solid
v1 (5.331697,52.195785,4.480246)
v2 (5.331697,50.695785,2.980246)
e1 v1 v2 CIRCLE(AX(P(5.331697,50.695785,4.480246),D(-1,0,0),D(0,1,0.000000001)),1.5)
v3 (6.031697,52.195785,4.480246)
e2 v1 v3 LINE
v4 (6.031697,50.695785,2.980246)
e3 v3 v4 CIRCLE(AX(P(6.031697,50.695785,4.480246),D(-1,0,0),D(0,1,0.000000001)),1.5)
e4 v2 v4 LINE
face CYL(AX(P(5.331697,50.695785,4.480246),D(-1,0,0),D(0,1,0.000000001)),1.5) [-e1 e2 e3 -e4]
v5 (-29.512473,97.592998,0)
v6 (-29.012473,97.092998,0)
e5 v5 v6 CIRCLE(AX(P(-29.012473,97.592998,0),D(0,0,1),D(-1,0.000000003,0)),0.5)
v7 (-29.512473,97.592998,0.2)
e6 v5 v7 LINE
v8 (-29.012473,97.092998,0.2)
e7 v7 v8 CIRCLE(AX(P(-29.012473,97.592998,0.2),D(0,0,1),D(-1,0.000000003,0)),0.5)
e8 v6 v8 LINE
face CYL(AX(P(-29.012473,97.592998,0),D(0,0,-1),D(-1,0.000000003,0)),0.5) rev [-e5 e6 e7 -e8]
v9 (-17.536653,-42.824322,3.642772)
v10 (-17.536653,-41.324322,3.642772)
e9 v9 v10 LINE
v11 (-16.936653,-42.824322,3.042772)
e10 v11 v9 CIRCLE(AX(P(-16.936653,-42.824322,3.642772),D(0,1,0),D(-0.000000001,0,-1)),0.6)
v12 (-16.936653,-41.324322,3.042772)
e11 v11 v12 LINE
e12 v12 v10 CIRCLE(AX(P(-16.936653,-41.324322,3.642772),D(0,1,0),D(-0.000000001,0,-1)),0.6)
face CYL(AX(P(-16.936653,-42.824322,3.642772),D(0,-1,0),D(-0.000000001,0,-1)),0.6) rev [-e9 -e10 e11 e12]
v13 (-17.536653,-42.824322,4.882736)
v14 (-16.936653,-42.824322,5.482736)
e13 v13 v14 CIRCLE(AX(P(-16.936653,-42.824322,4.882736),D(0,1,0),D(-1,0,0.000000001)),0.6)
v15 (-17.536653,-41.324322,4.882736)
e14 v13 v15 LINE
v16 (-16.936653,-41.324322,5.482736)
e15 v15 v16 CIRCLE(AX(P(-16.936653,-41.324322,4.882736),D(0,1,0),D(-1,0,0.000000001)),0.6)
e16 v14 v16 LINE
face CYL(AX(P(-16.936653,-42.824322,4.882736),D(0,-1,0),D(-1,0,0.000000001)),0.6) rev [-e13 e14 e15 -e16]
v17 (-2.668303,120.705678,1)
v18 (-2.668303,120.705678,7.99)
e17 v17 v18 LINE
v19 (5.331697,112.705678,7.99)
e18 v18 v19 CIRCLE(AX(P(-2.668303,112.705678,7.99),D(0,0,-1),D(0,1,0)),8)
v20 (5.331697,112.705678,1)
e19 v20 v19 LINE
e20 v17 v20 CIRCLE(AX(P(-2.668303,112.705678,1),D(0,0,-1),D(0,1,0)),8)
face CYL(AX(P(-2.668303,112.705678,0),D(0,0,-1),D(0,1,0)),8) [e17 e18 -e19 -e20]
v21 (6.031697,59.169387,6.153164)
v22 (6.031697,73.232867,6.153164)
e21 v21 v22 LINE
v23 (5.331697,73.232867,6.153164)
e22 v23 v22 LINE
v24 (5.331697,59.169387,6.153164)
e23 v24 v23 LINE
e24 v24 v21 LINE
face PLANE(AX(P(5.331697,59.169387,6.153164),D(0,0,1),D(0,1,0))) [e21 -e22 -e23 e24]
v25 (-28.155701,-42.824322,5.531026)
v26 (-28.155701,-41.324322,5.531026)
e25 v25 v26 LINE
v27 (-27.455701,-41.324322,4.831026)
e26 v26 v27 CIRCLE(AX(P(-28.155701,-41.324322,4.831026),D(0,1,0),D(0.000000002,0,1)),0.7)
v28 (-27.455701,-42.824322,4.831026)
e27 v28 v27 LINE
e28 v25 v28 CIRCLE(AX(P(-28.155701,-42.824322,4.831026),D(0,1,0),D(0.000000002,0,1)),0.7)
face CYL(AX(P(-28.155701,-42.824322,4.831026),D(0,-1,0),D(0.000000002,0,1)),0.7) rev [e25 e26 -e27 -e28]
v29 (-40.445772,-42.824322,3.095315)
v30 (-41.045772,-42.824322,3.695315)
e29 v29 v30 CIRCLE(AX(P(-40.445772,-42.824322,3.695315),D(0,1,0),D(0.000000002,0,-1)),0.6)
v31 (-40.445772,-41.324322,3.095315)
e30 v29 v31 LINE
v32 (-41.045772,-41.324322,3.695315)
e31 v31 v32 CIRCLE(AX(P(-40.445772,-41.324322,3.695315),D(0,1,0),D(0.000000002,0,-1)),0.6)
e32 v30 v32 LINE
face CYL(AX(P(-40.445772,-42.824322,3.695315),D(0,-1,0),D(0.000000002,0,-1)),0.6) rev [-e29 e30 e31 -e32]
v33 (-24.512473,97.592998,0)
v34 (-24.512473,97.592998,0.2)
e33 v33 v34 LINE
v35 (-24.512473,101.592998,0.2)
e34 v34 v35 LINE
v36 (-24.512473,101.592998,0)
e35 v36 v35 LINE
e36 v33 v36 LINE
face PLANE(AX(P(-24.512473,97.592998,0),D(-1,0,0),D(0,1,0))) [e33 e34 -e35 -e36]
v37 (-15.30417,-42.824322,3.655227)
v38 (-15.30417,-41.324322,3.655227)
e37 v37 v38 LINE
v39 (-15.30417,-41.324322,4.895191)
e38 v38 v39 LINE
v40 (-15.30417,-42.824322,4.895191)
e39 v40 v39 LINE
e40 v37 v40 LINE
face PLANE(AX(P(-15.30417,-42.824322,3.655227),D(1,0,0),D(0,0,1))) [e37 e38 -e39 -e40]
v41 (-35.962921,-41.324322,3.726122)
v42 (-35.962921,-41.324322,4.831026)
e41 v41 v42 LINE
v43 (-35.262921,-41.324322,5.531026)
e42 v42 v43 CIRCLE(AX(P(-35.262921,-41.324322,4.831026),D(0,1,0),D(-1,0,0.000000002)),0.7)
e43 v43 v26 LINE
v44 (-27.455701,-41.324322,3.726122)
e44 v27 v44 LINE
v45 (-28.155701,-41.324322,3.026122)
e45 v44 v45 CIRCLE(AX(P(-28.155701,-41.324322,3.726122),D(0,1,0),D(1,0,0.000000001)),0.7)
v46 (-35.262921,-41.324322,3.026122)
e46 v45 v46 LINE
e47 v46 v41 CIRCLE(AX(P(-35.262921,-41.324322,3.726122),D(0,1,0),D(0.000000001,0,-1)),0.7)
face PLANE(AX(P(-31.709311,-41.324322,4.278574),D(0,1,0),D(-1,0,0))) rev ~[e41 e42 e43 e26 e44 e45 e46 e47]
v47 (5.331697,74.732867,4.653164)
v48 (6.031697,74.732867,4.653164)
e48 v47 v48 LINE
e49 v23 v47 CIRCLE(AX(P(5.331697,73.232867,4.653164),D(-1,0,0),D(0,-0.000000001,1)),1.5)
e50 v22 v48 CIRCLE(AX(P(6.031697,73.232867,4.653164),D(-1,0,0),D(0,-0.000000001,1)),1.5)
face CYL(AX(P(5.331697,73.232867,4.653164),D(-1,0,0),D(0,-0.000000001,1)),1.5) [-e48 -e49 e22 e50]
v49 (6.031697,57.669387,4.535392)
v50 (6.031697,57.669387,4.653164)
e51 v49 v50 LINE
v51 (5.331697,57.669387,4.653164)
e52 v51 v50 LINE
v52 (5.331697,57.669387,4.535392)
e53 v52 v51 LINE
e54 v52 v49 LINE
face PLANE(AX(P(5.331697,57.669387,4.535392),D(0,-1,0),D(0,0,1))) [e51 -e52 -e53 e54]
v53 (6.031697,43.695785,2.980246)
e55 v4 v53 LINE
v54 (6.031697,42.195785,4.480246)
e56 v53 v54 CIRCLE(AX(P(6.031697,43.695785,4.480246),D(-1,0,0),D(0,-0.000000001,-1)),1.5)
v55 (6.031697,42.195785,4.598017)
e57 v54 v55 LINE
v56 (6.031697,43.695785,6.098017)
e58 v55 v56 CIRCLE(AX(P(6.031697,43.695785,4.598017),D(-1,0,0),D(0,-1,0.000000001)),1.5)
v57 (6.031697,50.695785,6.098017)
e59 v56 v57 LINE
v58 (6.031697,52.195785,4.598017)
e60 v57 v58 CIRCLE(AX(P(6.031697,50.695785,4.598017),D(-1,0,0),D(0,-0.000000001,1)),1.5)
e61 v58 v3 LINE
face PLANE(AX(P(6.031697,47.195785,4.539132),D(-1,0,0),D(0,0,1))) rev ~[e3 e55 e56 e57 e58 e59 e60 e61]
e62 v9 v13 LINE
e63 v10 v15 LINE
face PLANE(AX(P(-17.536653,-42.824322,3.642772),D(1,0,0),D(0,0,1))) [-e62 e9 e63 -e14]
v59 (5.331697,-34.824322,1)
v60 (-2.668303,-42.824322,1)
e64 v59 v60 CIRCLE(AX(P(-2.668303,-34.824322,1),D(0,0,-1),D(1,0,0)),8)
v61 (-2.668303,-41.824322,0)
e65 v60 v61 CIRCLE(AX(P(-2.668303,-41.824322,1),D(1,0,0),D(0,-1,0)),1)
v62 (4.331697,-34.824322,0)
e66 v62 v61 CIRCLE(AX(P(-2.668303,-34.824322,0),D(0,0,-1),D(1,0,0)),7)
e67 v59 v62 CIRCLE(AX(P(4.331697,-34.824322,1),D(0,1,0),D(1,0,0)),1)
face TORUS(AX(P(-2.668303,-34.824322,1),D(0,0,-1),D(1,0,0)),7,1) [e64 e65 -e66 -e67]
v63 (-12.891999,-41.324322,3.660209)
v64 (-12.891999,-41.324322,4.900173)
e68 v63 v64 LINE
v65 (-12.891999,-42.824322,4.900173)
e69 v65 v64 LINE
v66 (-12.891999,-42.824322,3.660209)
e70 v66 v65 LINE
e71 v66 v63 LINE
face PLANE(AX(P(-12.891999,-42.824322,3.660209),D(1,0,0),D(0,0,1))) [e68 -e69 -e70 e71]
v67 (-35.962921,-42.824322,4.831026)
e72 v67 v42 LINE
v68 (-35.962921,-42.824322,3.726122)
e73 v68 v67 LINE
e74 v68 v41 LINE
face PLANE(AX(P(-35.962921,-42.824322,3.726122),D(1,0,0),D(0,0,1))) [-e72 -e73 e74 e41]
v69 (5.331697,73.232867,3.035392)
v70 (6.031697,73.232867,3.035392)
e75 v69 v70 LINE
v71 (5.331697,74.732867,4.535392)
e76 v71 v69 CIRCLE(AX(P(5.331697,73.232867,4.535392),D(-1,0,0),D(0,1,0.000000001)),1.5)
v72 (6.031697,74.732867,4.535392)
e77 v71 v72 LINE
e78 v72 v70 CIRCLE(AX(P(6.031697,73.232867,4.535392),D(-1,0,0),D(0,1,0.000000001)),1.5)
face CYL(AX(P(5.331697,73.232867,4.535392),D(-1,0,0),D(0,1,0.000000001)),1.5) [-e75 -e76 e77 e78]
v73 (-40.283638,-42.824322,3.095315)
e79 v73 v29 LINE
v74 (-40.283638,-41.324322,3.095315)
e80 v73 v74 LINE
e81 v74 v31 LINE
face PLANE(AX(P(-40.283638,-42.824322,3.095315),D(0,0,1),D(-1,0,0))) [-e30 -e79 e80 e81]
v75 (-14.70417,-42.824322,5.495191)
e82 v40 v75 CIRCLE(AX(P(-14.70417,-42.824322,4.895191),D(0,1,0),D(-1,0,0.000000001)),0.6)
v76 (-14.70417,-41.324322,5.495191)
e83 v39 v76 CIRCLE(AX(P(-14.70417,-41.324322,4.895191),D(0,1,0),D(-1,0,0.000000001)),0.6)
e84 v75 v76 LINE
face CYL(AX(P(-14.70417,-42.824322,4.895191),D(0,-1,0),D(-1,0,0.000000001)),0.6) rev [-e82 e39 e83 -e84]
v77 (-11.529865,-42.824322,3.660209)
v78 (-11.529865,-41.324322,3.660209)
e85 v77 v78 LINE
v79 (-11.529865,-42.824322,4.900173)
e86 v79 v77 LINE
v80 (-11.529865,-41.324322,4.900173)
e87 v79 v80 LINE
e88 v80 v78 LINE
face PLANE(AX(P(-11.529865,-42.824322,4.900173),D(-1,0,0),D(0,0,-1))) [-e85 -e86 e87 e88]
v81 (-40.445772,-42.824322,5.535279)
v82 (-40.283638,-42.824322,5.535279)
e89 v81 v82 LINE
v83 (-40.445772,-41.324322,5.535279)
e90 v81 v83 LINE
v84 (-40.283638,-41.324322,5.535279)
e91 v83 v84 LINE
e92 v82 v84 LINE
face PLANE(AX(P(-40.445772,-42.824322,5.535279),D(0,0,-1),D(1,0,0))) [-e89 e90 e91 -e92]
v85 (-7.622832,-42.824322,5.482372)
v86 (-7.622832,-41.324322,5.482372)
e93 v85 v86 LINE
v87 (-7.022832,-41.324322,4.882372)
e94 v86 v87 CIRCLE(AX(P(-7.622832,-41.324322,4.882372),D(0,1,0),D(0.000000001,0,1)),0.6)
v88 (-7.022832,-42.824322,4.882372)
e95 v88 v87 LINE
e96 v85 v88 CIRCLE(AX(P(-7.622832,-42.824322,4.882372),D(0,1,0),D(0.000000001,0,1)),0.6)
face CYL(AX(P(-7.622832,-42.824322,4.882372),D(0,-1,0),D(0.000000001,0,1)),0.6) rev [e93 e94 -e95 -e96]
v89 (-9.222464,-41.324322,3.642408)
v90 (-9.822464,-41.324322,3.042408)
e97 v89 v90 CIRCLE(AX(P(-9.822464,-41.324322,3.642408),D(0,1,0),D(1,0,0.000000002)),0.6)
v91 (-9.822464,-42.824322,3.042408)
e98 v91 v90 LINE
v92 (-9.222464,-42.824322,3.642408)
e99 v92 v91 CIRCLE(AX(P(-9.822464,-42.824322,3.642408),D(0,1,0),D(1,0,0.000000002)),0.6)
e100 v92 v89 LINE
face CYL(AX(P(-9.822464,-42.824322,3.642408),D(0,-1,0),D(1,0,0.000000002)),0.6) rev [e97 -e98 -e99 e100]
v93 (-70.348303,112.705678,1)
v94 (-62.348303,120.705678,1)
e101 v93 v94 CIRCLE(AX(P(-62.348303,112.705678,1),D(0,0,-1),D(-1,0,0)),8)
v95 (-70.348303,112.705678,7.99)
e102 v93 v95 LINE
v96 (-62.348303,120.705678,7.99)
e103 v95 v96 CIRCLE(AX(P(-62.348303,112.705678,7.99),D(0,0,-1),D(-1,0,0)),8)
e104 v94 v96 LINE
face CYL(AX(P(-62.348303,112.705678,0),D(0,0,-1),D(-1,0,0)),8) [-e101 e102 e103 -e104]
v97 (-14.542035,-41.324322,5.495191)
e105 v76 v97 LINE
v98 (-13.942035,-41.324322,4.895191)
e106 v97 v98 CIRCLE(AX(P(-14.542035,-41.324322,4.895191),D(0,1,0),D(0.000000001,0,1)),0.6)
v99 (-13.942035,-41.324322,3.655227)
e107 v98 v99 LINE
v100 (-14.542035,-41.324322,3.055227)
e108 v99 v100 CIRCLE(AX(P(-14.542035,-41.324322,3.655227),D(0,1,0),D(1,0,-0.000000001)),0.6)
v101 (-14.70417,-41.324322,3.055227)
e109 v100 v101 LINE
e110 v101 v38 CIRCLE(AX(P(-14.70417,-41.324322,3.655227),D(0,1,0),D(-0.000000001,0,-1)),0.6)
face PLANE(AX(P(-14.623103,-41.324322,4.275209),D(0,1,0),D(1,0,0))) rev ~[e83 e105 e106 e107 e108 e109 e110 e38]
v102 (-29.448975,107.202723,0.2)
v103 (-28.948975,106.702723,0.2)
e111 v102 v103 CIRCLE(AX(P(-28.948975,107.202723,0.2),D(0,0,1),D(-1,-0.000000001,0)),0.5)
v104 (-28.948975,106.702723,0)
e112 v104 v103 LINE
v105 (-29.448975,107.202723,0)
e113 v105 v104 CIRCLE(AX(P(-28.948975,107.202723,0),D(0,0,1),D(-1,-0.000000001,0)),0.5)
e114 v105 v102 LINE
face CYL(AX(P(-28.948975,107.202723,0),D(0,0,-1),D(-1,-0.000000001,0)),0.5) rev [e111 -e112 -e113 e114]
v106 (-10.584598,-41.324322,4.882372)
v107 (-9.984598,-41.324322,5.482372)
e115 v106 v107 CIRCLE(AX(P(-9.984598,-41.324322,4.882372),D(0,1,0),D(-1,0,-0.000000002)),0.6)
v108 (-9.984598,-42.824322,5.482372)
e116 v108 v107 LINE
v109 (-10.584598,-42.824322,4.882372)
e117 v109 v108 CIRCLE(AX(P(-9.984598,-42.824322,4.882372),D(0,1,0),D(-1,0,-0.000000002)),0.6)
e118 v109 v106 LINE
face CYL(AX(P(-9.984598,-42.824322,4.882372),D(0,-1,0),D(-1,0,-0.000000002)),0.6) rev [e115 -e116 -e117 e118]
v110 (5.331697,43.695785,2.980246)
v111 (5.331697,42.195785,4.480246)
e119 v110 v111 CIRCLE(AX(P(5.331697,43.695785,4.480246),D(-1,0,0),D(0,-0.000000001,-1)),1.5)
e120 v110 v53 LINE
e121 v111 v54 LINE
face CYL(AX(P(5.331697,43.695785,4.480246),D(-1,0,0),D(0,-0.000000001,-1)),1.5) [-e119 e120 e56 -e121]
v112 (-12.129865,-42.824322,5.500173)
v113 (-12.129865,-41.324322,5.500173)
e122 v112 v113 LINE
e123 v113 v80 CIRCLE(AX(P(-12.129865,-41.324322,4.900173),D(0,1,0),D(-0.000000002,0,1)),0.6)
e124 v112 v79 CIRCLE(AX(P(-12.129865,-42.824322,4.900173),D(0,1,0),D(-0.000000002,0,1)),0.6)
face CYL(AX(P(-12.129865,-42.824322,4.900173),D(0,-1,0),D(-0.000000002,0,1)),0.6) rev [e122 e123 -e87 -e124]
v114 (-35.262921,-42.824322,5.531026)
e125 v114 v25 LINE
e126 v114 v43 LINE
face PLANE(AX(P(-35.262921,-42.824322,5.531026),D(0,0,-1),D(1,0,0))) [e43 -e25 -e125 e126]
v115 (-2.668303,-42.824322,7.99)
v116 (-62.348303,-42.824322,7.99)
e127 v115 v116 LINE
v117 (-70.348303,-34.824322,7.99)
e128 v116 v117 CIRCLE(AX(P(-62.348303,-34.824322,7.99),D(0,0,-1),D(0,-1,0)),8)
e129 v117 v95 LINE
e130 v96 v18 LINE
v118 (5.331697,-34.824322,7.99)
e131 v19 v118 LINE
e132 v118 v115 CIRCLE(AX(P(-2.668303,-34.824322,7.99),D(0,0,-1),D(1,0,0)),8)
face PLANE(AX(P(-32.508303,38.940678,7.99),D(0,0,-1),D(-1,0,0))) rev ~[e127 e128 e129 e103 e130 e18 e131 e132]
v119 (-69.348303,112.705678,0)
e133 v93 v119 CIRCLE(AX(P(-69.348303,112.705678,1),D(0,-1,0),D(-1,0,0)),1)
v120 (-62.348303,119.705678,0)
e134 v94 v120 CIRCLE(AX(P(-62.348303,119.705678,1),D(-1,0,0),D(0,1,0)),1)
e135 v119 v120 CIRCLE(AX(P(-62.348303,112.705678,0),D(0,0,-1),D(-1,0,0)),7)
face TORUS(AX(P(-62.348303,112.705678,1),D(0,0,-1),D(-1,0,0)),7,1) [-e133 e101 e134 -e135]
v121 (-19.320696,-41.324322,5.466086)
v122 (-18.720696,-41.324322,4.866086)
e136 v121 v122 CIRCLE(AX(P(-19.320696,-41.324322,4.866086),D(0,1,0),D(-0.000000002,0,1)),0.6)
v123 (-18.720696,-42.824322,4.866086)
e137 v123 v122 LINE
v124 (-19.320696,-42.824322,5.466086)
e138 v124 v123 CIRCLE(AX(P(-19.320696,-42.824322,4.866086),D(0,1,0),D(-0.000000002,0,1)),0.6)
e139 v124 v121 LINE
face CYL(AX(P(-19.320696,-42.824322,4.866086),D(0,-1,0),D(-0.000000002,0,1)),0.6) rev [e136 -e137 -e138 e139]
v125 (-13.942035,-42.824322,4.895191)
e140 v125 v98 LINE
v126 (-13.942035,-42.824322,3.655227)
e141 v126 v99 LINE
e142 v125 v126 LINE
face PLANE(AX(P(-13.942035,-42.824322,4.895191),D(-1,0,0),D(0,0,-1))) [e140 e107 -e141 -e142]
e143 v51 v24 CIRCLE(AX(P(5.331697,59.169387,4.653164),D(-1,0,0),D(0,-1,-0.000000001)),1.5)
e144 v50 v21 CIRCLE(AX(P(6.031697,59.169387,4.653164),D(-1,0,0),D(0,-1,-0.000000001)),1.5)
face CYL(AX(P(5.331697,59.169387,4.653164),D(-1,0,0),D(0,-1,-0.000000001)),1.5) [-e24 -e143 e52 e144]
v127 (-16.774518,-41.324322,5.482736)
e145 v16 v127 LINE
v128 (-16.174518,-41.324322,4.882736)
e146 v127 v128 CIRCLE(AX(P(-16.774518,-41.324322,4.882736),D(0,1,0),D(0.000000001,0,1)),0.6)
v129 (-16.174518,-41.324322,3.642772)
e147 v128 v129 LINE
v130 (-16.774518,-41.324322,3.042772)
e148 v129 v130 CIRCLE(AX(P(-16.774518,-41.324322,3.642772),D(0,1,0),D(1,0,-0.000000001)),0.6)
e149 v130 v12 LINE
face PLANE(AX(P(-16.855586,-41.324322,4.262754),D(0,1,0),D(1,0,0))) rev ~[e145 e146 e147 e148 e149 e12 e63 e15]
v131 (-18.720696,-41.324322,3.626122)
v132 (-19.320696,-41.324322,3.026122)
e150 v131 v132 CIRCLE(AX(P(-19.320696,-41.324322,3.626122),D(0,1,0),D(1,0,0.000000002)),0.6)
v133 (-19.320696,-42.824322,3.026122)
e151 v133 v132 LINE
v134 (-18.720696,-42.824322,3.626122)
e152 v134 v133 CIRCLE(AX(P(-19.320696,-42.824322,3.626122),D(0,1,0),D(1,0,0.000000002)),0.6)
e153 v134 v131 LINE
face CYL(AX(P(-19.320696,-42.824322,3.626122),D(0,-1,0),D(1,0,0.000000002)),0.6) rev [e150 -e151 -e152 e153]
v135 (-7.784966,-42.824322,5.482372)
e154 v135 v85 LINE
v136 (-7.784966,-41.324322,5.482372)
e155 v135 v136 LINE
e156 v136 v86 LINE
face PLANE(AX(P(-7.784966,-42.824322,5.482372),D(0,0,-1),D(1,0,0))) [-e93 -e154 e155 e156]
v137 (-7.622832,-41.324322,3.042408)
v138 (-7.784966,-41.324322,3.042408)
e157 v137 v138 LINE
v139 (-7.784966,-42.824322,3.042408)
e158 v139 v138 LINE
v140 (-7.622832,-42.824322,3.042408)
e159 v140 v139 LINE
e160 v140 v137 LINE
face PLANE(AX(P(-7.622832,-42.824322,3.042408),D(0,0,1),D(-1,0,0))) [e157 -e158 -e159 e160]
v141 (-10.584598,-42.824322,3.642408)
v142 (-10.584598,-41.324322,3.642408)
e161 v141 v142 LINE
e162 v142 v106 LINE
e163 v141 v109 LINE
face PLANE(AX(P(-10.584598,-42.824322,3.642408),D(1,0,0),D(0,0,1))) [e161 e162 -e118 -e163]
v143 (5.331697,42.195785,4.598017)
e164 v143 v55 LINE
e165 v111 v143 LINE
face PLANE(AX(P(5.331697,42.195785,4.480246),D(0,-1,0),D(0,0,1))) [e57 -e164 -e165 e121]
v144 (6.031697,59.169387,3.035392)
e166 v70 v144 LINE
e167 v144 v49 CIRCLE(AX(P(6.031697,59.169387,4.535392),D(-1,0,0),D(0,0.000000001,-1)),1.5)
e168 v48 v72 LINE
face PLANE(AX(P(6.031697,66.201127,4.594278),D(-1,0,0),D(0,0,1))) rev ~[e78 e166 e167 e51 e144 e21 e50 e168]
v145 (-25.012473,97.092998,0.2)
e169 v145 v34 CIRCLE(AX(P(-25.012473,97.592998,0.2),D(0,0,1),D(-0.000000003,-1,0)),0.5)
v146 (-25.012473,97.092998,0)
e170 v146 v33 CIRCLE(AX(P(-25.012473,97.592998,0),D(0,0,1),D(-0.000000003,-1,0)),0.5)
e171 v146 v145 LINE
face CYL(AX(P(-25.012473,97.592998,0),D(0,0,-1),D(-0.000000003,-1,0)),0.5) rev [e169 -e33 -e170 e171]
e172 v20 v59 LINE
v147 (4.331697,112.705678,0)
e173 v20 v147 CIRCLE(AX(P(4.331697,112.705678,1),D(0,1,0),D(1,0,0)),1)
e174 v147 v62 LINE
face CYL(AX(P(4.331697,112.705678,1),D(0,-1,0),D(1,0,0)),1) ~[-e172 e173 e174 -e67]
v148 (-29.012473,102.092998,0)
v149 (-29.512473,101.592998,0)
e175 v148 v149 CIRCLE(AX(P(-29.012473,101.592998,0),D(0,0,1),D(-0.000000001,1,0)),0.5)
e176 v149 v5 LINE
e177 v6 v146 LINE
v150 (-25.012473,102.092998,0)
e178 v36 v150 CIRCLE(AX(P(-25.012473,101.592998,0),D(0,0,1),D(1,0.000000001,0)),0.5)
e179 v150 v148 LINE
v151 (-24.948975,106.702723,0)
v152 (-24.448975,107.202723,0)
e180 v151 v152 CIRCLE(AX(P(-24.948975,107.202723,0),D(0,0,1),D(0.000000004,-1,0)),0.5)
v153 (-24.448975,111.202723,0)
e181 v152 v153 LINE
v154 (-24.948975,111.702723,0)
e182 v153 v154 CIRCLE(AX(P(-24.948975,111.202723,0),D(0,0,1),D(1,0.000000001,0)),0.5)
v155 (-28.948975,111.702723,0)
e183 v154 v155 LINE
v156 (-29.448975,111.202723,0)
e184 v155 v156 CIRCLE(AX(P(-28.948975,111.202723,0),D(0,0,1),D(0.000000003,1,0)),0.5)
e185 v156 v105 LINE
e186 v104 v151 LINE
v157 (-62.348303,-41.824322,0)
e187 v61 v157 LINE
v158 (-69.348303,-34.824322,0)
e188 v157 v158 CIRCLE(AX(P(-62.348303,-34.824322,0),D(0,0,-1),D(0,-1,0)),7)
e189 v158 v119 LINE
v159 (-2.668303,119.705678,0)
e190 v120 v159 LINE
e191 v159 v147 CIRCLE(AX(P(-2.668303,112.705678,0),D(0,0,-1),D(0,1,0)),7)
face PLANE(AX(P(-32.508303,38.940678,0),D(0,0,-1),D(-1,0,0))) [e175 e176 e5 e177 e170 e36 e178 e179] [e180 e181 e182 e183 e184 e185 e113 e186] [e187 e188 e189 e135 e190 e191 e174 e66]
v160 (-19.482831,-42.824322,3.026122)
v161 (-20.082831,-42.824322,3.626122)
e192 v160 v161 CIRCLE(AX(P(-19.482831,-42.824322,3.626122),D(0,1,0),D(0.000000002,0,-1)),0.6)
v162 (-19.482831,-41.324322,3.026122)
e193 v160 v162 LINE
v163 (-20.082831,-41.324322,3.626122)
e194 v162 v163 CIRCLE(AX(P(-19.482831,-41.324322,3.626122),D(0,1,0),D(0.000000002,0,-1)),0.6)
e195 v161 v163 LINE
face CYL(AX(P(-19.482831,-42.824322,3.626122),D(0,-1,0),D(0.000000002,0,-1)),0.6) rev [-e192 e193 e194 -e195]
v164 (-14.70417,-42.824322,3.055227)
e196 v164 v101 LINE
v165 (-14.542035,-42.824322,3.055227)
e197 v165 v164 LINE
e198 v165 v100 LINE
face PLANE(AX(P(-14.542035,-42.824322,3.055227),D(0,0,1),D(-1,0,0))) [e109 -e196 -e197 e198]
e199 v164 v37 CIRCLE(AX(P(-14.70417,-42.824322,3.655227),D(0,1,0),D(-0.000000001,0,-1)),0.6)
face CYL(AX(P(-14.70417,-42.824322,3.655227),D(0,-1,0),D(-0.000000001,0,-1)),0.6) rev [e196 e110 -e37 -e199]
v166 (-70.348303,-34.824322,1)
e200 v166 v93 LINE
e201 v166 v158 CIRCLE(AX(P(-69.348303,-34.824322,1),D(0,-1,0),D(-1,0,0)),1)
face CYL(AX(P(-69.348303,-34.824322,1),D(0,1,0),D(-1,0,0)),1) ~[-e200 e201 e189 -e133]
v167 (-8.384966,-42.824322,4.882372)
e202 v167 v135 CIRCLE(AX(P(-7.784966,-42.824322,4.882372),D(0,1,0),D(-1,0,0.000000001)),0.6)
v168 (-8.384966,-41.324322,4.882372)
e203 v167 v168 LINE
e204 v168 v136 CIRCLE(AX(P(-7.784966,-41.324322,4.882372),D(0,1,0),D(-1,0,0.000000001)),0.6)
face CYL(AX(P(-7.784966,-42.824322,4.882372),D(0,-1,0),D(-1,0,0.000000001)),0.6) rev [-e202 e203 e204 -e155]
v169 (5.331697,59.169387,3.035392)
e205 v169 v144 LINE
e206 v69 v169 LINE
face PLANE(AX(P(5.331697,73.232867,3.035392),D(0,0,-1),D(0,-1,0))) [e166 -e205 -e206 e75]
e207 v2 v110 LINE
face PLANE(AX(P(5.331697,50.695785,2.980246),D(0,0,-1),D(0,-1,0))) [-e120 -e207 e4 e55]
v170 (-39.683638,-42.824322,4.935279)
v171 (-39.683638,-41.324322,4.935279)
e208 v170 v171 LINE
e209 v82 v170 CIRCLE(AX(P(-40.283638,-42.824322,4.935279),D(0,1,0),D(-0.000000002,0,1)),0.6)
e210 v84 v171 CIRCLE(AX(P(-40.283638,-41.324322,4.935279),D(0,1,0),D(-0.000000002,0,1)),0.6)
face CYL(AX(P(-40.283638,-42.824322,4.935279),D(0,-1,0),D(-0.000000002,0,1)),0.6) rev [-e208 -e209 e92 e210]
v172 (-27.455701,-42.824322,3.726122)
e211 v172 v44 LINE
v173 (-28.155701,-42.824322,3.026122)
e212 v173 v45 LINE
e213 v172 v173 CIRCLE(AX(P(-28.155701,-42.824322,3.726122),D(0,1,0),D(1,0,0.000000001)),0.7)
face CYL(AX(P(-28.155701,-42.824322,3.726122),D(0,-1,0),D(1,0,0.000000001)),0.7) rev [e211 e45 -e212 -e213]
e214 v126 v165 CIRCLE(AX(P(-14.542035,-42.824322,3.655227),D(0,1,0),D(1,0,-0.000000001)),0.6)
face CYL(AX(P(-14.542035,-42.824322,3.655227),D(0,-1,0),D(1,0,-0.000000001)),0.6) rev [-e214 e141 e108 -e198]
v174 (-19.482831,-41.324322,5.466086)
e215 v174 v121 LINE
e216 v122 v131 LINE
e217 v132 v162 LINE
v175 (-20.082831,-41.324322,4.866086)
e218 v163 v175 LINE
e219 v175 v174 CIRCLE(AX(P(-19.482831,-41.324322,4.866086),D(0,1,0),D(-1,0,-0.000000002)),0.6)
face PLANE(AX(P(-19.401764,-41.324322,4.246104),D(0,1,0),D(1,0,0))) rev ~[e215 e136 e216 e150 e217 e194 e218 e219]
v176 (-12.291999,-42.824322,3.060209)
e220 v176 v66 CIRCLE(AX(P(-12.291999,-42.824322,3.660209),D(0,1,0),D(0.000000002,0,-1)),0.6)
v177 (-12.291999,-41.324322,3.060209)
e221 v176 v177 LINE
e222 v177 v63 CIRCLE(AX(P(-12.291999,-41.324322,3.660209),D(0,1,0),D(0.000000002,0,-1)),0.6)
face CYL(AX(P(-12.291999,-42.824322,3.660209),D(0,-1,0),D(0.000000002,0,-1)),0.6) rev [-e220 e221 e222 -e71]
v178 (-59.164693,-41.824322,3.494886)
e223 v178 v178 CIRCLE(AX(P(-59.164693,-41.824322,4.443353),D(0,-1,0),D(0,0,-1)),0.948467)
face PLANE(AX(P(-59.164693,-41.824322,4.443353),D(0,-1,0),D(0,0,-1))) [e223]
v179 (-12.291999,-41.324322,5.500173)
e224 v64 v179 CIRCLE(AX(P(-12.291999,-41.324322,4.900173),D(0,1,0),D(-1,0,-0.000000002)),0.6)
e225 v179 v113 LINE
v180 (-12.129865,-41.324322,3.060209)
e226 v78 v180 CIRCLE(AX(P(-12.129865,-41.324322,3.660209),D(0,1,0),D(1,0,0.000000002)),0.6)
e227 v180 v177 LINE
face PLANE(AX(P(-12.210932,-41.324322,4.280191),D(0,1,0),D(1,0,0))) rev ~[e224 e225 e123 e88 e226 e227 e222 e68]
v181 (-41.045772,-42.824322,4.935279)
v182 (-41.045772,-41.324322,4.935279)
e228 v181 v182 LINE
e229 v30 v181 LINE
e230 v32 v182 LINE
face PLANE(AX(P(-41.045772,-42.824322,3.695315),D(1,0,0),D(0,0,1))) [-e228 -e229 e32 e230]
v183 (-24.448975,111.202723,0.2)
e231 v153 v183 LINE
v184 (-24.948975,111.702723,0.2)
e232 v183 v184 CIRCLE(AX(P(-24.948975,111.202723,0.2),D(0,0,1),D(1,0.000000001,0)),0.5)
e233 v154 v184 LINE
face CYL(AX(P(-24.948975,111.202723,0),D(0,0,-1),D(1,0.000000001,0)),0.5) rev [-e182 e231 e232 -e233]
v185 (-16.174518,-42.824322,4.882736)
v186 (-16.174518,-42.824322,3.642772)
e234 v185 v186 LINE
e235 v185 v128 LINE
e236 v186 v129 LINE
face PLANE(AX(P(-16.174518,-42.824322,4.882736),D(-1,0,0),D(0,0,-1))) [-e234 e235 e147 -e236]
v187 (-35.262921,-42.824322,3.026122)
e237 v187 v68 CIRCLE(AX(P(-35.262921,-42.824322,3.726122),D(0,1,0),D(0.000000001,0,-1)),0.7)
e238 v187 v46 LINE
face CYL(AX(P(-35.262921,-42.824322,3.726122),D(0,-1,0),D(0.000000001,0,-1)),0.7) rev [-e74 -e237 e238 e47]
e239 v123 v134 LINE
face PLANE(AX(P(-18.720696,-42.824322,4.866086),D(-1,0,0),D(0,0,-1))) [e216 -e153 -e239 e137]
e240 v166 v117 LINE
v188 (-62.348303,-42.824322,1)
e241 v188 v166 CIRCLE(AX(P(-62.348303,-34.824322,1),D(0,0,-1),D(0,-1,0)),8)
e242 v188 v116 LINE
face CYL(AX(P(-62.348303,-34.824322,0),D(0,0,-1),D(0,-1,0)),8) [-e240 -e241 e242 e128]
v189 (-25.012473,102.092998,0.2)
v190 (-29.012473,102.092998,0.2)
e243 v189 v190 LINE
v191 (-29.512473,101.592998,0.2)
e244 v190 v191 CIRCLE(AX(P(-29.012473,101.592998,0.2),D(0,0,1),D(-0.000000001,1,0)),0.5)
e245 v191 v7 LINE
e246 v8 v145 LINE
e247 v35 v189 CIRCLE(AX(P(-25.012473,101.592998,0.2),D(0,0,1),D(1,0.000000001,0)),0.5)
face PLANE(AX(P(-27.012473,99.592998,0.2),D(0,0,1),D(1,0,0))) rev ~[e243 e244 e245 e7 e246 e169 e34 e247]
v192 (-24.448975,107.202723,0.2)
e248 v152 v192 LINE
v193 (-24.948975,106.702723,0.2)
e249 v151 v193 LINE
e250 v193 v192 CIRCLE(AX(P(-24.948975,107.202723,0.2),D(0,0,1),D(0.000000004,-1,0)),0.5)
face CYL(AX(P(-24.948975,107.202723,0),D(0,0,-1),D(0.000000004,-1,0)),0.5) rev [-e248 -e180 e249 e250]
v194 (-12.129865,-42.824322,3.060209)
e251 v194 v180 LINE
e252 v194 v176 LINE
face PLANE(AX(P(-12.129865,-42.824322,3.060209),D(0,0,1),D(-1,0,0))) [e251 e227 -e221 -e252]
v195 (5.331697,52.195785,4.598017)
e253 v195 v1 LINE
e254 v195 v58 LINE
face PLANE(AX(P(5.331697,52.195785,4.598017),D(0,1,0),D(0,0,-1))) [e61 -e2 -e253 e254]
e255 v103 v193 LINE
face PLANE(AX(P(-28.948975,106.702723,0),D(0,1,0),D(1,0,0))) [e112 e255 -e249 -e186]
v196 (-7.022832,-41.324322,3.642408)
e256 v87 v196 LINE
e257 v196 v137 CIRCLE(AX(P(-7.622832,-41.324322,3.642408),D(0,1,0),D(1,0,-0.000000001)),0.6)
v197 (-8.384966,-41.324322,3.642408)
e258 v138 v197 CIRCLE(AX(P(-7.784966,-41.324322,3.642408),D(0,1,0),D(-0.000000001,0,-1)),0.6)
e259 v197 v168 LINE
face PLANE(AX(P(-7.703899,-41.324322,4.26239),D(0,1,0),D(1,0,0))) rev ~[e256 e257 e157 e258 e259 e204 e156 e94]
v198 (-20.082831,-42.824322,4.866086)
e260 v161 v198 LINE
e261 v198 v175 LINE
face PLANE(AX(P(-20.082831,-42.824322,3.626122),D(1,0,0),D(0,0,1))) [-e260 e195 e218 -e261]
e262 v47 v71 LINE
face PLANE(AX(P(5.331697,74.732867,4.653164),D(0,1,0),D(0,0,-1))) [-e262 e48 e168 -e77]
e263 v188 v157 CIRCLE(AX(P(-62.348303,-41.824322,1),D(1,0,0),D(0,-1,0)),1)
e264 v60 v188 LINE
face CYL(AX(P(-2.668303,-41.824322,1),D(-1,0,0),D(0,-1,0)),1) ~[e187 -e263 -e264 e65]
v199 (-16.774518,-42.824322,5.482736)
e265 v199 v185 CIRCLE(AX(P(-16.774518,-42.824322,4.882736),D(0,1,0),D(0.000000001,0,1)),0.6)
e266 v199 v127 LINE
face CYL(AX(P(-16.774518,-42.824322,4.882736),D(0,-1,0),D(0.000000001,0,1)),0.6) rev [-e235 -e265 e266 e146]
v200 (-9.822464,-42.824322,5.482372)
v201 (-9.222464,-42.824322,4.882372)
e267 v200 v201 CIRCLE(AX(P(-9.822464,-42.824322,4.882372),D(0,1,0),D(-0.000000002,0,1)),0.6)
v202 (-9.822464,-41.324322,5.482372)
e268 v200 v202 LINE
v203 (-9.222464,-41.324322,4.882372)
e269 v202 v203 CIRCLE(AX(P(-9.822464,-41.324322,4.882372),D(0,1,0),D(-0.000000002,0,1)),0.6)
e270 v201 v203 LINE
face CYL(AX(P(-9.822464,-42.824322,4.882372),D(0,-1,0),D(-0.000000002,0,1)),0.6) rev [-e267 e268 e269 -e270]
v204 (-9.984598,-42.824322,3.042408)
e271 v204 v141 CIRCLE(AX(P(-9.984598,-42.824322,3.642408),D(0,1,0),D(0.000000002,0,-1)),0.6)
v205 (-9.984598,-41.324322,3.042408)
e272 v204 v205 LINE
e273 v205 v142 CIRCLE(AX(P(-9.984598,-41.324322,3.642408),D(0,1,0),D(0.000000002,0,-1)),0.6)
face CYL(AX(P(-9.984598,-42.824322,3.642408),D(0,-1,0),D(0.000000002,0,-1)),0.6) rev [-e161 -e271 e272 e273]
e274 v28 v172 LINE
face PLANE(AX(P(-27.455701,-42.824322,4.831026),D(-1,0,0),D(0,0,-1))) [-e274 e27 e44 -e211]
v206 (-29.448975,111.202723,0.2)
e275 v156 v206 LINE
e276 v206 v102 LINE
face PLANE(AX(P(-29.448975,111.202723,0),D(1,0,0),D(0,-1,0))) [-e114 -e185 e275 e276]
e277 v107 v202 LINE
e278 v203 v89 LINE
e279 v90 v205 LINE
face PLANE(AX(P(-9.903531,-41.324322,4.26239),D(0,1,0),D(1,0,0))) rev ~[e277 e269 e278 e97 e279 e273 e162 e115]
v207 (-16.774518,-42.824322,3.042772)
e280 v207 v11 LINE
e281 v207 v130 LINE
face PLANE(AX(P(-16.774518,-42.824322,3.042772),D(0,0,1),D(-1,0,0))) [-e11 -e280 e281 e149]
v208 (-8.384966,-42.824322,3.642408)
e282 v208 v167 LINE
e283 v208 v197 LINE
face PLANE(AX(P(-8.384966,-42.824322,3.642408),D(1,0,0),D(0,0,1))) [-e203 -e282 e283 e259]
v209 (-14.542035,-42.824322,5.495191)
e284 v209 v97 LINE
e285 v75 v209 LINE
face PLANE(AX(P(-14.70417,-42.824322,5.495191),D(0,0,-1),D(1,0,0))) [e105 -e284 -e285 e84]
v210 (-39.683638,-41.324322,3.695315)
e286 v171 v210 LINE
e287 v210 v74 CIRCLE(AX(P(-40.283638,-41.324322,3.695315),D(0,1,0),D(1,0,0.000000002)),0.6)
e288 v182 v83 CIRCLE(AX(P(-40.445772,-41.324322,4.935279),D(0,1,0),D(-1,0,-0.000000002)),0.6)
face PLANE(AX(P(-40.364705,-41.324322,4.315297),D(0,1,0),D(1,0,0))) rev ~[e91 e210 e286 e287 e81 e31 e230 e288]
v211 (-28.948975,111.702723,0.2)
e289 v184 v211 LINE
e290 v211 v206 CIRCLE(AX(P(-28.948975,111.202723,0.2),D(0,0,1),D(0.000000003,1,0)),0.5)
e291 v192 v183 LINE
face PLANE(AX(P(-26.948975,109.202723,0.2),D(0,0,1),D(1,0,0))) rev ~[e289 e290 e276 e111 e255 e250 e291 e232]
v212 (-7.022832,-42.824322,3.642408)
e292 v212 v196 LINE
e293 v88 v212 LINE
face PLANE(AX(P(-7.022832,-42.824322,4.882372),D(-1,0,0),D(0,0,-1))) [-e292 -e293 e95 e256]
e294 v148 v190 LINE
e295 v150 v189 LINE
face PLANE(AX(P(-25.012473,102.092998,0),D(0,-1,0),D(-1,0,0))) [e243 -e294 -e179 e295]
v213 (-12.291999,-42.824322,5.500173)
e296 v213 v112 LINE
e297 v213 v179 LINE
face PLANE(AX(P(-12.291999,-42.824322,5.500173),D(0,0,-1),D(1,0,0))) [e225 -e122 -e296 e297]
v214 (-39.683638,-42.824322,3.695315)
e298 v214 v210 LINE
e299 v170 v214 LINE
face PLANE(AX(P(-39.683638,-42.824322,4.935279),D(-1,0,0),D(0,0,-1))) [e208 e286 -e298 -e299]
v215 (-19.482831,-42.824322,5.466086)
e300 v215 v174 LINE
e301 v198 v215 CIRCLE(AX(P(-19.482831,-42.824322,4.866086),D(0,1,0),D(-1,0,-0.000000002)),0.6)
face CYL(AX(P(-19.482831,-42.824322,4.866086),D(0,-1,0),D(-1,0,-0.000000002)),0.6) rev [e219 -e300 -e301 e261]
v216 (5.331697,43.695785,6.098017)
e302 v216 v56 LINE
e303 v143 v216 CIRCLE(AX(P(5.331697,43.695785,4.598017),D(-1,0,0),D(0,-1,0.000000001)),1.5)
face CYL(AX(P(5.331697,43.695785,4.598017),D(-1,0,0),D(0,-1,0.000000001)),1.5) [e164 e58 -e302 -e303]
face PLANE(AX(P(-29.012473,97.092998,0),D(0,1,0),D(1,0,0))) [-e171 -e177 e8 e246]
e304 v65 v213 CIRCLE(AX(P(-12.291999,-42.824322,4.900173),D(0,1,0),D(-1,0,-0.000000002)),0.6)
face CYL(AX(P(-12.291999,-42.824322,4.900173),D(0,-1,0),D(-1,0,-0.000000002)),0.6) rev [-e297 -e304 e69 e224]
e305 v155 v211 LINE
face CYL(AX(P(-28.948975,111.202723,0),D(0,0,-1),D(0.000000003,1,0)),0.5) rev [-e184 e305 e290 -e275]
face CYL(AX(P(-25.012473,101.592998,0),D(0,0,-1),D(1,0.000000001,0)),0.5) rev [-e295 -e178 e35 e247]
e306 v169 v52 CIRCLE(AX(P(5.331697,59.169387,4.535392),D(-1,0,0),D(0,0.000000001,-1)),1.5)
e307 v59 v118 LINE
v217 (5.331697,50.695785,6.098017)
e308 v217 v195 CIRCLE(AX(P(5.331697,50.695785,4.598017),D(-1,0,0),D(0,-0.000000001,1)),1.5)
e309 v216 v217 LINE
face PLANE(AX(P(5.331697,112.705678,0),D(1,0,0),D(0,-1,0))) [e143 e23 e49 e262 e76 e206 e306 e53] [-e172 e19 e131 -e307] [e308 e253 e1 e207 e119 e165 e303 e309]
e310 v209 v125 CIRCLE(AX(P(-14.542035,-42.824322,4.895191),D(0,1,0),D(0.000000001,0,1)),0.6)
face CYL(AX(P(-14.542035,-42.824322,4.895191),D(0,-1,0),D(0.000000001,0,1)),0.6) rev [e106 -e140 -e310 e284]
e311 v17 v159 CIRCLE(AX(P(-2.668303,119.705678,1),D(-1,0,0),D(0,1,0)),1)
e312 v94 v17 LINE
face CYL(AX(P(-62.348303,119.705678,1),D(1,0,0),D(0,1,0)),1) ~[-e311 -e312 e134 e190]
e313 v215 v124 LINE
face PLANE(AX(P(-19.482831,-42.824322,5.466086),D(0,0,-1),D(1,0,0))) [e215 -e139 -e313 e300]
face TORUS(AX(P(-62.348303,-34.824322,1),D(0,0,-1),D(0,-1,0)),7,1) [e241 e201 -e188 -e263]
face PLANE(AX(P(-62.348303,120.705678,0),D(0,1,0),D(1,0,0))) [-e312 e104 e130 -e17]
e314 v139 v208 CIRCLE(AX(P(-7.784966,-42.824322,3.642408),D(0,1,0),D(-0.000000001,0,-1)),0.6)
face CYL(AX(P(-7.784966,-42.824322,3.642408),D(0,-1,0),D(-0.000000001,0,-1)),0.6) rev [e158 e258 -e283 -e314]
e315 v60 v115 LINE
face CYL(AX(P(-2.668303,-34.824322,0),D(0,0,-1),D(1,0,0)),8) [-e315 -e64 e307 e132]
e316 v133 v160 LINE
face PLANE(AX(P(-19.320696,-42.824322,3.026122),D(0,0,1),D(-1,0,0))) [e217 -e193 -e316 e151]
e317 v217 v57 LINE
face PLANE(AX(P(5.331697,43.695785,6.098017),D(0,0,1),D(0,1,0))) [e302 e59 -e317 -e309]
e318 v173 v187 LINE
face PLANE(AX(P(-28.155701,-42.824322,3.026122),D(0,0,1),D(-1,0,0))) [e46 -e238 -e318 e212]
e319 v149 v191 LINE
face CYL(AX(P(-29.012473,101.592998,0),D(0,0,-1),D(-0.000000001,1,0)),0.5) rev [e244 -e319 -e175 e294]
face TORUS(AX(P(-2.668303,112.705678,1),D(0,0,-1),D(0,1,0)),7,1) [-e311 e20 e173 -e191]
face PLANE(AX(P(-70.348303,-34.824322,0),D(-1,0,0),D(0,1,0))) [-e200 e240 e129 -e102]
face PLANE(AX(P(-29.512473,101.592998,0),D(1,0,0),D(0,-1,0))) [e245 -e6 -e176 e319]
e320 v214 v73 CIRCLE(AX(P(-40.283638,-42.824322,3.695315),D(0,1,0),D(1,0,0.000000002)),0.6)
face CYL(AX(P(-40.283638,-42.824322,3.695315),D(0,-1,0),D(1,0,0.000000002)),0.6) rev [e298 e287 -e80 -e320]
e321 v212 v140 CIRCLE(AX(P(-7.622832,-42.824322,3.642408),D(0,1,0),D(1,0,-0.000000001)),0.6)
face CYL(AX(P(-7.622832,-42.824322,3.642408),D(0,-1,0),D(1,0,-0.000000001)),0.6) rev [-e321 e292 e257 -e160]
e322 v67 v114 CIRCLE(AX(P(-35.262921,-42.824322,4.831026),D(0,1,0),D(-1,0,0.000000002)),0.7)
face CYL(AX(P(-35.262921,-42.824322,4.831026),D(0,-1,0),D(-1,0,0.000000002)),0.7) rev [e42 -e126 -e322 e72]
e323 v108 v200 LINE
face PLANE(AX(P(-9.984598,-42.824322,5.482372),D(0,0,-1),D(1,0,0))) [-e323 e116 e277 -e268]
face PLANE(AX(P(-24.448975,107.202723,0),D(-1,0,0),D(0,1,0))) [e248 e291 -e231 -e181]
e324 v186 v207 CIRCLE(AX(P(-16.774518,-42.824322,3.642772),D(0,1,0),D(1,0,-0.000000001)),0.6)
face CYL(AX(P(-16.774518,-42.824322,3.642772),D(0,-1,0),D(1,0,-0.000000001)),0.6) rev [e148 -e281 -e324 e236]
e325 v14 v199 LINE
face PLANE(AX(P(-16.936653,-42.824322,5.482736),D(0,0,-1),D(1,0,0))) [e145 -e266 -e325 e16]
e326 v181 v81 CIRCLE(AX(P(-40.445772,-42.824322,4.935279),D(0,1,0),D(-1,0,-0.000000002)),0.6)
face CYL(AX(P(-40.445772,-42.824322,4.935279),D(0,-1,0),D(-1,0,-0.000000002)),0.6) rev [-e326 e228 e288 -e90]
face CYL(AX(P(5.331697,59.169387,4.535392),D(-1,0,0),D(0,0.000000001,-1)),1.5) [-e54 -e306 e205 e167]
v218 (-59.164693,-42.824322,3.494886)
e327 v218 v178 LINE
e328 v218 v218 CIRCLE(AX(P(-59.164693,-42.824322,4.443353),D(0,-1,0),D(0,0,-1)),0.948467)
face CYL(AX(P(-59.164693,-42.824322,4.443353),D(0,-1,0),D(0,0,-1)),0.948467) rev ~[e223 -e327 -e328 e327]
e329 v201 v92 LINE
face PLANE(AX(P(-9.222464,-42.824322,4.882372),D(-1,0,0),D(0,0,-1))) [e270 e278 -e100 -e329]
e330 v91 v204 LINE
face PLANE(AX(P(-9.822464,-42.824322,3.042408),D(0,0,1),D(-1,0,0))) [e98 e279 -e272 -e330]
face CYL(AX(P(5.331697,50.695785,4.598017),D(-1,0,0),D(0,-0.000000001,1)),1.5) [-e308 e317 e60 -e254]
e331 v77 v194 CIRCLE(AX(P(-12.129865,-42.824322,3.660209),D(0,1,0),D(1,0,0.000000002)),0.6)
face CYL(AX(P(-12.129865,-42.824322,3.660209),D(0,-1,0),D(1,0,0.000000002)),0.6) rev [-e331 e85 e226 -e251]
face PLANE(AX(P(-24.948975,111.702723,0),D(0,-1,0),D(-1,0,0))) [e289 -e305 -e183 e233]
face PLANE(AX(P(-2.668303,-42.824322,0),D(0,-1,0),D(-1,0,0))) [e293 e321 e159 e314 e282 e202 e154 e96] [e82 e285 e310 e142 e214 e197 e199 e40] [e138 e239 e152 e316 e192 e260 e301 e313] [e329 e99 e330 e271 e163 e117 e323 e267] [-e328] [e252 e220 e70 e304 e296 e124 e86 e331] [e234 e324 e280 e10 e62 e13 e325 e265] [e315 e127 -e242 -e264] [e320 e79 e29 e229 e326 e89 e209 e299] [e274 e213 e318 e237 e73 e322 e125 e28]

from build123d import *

# Parameters (mm, degrees)
EXTRUDE_2_DEPTH     = 7.99
FILLET_4_R          = 1
EXTRUDE_4_DEPTH     = 0.7
SKETCH_13_R         = 0.94846709
CUT_EXTRUDE_2_DEPTH = 1
CUT_EXTRUDE_3_DEPTH = 1.5
CUT_EXTRUDE_4_DEPTH = 1.5
CUT_EXTRUDE_6_DEPTH = 0.2


with BuildPart() as part:
    # 草图1 → 凸台-拉伸2 (new body)
    with BuildSketch(Plane.XY):
        with BuildLine():
            Line((-62.348303156, 120.705678339), (-2.668303156, 120.705678339))
            ThreePointArc((-2.668303156, 120.705678339), (2.988551094, 118.362532589), (5.331696844, 112.705678339))
            Line((5.331696844, 112.705678339), (5.331696844, -34.824321661))
            ThreePointArc((5.331696844, -34.824321661), (2.988551094, -40.48117591), (-2.668303156, -42.824321661))
            Line((-2.668303156, -42.824321661), (-62.348303156, -42.824321661))
            ThreePointArc((-62.348303156, -42.824321661), (-68.005157405, -40.48117591), (-70.348303156, -34.824321661))
            Line((-70.348303156, -34.824321661), (-70.348303156, 112.705678339))
            ThreePointArc((-70.348303156, 112.705678339), (-68.005157405, 118.362532589), (-62.348303156, 120.705678339))
        make_face()
    extrude(amount=EXTRUDE_2_DEPTH)

    # 圆角4
    fillet_4_edges = [part.edges().sort_by_distance(p)[0] for p in [
        (5.331696844, 38.940678339, 0),
        (2.988551094, -40.48117591, 0),
        (-32.508303156, -42.824321661, 0),
        (-68.005157405, -40.48117591, 0),
        (-70.348303156, 38.940678339, 0),
        (-68.005157405, 118.362532589, 0),
        (-32.508303156, 120.705678339, 0),
        (2.988551094, 118.362532589, 0),
    ]]
    fillet(fillet_4_edges, radius=FILLET_4_R)

    # 草图7 → 凸台-拉伸4 (add)
    with BuildSketch(Plane(origin=(5.331696844, -15.049624304, 0), x_dir=(0, 0, -1), z_dir=(1, 0, 0))):
        with BuildLine():
            Line((-4.598017409, 67.245409355), (-4.480245782, 67.245409355))
            ThreePointArc((-4.480245782, 67.245409355), (-3.41958561, 66.806069527), (-2.980245782, 65.745409355))
            Line((-2.980245782, 65.745409355), (-2.980245782, 58.745409355))
            ThreePointArc((-2.980245782, 58.745409355), (-3.41958561, 57.684749184), (-4.480245782, 57.245409355))
            Line((-4.480245782, 57.245409355), (-4.598017409, 57.245409355))
            ThreePointArc((-4.598017409, 57.245409355), (-5.658677581, 57.684749184), (-6.098017409, 58.745409355))
            Line((-6.098017409, 58.745409355), (-6.098017409, 65.745409355))
            ThreePointArc((-6.098017409, 65.745409355), (-5.658677581, 66.806069527), (-4.598017409, 67.245409355))
        make_face()
        with BuildLine():
            Line((-4.653163904, 89.782491483), (-4.535392277, 89.782491483))
            ThreePointArc((-4.535392277, 89.782491483), (-3.474732105, 89.343151655), (-3.035392277, 88.282491483))
            Line((-3.035392277, 88.282491483), (-3.035392277, 74.219011632))
            ThreePointArc((-3.035392277, 74.219011632), (-3.474732105, 73.15835146), (-4.535392277, 72.719011632))
            Line((-4.535392277, 72.719011632), (-4.653163904, 72.719011632))
            ThreePointArc((-4.653163904, 72.719011632), (-5.713824076, 73.15835146), (-6.153163904, 74.219011632))
            Line((-6.153163904, 74.219011632), (-6.153163904, 88.282491483))
            ThreePointArc((-6.153163904, 88.282491483), (-5.713824076, 89.343151655), (-4.653163904, 89.782491483))
        make_face()
    extrude(amount=EXTRUDE_4_DEPTH)

    # 草图13 → 切除-拉伸2 (cut)
    with BuildSketch(Plane.XZ.offset(42.824321661)):
        with Locations(Location((-59.16469345, 4.443353111, 0), (0, 0, 270))):
            Circle(SKETCH_13_R)
    extrude(amount=-CUT_EXTRUDE_2_DEPTH, mode=Mode.SUBTRACT)

    # 草图14 → 切除-拉伸3 (cut)
    with BuildSketch(Plane.XZ.offset(42.824321661)):
        with BuildLine():
            Line((-35.262920742, 5.531025734), (-28.155701295, 5.531025734))
            ThreePointArc((-28.155701295, 5.531025734), (-27.660726548, 5.32600048), (-27.455701295, 4.831025734))
            Line((-27.455701295, 4.831025734), (-27.455701295, 3.72612223))
            ThreePointArc((-27.455701295, 3.72612223), (-27.660726548, 3.231147483), (-28.155701295, 3.02612223))
            Line((-28.155701295, 3.02612223), (-35.262920742, 3.02612223))
            ThreePointArc((-35.262920742, 3.02612223), (-35.757895489, 3.231147483), (-35.962920742, 3.72612223))
            Line((-35.962920742, 3.72612223), (-35.962920742, 4.831025734))
            ThreePointArc((-35.962920742, 4.831025734), (-35.757895489, 5.32600048), (-35.262920742, 5.531025734))
        make_face()
    extrude(amount=-CUT_EXTRUDE_3_DEPTH, mode=Mode.SUBTRACT)

    # 草图16 → 切除-拉伸4 (cut)
    with BuildSketch(Plane(origin=(0, -42.824321661, 0), x_dir=(-1, 0, 0), z_dir=(0, -1, 0))):
        with BuildLine():
            Line((16.936652763, -5.482735831), (16.77451846, -5.482735831))
            ThreePointArc((16.77451846, -5.482735831), (16.350254392, -5.3069999), (16.17451846, -4.882735831))
            Line((16.17451846, -4.882735831), (16.17451846, -3.642771963))
            ThreePointArc((16.17451846, -3.642771963), (16.350254392, -3.218507894), (16.77451846, -3.042771963))
            Line((16.77451846, -3.042771963), (16.936652763, -3.042771963))
            ThreePointArc((16.936652763, -3.042771963), (17.360916831, -3.218507894), (17.536652763, -3.642771963))
            Line((17.536652763, -3.642771963), (17.536652763, -4.882735831))
            ThreePointArc((17.536652763, -4.882735831), (17.360916831, -5.3069999), (16.936652763, -5.482735831))
        make_face()
        with BuildLine():
            Line((19.482830663, -5.466086098), (19.320696361, -5.466086098))
            ThreePointArc((19.320696361, -5.466086098), (18.896432292, -5.290350167), (18.720696361, -4.866086098))
            Line((18.720696361, -4.866086098), (18.720696361, -3.62612223))
            ThreePointArc((18.720696361, -3.62612223), (18.896432292, -3.201858161), (19.320696361, -3.02612223))
            Line((19.320696361, -3.02612223), (19.482830663, -3.02612223))
            ThreePointArc((19.482830663, -3.02612223), (19.907094732, -3.201858161), (20.082830663, -3.62612223))
            Line((20.082830663, -3.62612223), (20.082830663, -4.866086098))
            ThreePointArc((20.082830663, -4.866086098), (19.907094732, -5.290350167), (19.482830663, -5.466086098))
        make_face()
        with BuildLine():
            Line((14.704169667, -5.495191066), (14.542035364, -5.495191066))
            ThreePointArc((14.542035364, -5.495191066), (14.117771296, -5.319455135), (13.942035364, -4.895191066))
            Line((13.942035364, -4.895191066), (13.942035364, -3.655227198))
            ThreePointArc((13.942035364, -3.655227198), (14.117771296, -3.230963129), (14.542035364, -3.055227198))
            Line((14.542035364, -3.055227198), (14.704169667, -3.055227198))
            ThreePointArc((14.704169667, -3.055227198), (15.128433735, -3.230963129), (15.304169667, -3.655227198))
            Line((15.304169667, -3.655227198), (15.304169667, -4.895191066))
            ThreePointArc((15.304169667, -4.895191066), (15.128433735, -5.319455135), (14.704169667, -5.495191066))
        make_face()
        with BuildLine():
            Line((-17.076276663, -1.219981934), (-17.238410965, -1.219981934))
            ThreePointArc((-17.238410965, -1.219981934), (-17.662675034, -1.044246003), (-17.838410965, -0.619981934))
            Line((-17.838410965, -0.619981934), (-17.838410965, 0.619981934))
            ThreePointArc((-17.838410965, 0.619981934), (-17.662675034, 1.044246003), (-17.238410965, 1.219981934))
            Line((-17.238410965, 1.219981934), (-17.076276663, 1.219981934))
            ThreePointArc((-17.076276663, 1.219981934), (-16.652012594, 1.044246003), (-16.476276663, 0.619981934))
            Line((-16.476276663, 0.619981934), (-16.476276663, -0.619981934))
            ThreePointArc((-16.476276663, -0.619981934), (-16.652012594, -1.044246003), (-17.076276663, -1.219981934))
        make_face()
        with BuildLine():
            Line((12.291999198, -5.500173127), (12.129864896, -5.500173127))
            ThreePointArc((12.129864896, -5.500173127), (11.705600827, -5.324437196), (11.529864896, -4.900173127))
            Line((11.529864896, -4.900173127), (11.529864896, -3.660209259))
            ThreePointArc((11.529864896, -3.660209259), (11.705600827, -3.23594519), (12.129864896, -3.060209259))
            Line((12.129864896, -3.060209259), (12.291999198, -3.060209259))
            ThreePointArc((12.291999198, -3.060209259), (12.716263267, -3.23594519), (12.891999198, -3.660209259))
            Line((12.891999198, -3.660209259), (12.891999198, -4.900173127))
            ThreePointArc((12.891999198, -4.900173127), (12.716263267, -5.324437196), (12.291999198, -5.500173127))
        make_face()
        with BuildLine():
            Line((9.984598284, -5.482371765), (9.822463982, -5.482371765))
            ThreePointArc((9.822463982, -5.482371765), (9.398199913, -5.306635834), (9.222463982, -4.882371765))
            Line((9.222463982, -4.882371765), (9.222463982, -3.642407897))
            ThreePointArc((9.222463982, -3.642407897), (9.398199913, -3.218143828), (9.822463982, -3.042407897))
            Line((9.822463982, -3.042407897), (9.984598284, -3.042407897))
            ThreePointArc((9.984598284, -3.042407897), (10.408862353, -3.218143828), (10.584598284, -3.642407897))
            Line((10.584598284, -3.642407897), (10.584598284, -4.882371765))
            ThreePointArc((10.584598284, -4.882371765), (10.408862353, -5.306635834), (9.984598284, -5.482371765))
        make_face()
        with BuildLine():
            Line((7.784966211, -5.482371765), (7.622831908, -5.482371765))
            ThreePointArc((7.622831908, -5.482371765), (7.19856784, -5.306635834), (7.022831908, -4.882371765))
            Line((7.022831908, -4.882371765), (7.022831908, -3.642407897))
            ThreePointArc((7.022831908, -3.642407897), (7.19856784, -3.218143828), (7.622831908, -3.042407897))
            Line((7.622831908, -3.042407897), (7.784966211, -3.042407897))
            ThreePointArc((7.784966211, -3.042407897), (8.209230279, -3.218143828), (8.384966211, -3.642407897))
            Line((8.384966211, -3.642407897), (8.384966211, -4.882371765))
            ThreePointArc((8.384966211, -4.882371765), (8.209230279, -5.306635834), (7.784966211, -5.482371765))
        make_face()
        with BuildLine():
            Line((40.445771945, -5.535278568), (40.283637643, -5.535278568))
            ThreePointArc((40.283637643, -5.535278568), (39.859373574, -5.359542637), (39.683637643, -4.935278568))
            Line((39.683637643, -4.935278568), (39.683637643, -3.6953147))
            ThreePointArc((39.683637643, -3.6953147), (39.859373574, -3.271050631), (40.283637643, -3.0953147))
            Line((40.283637643, -3.0953147), (40.445771945, -3.0953147))
            ThreePointArc((40.445771945, -3.0953147), (40.870036014, -3.271050631), (41.045771945, -3.6953147))
            Line((41.045771945, -3.6953147), (41.045771945, -4.935278568))
            ThreePointArc((41.045771945, -4.935278568), (40.870036014, -5.359542637), (40.445771945, -5.535278568))
        make_face()
    extrude(amount=-CUT_EXTRUDE_4_DEPTH, mode=Mode.SUBTRACT)

    # 草图18 → 切除-拉伸6 (cut)
    with BuildSketch(Plane(origin=(0, 0, 0), x_dir=(-1, 0, 0), z_dir=(0, 0, -1))):
        with BuildLine():
            Line((25.012472849, 102.092998362), (29.012472849, 102.092998362))
            ThreePointArc((29.012472849, 102.092998362), (29.36602624, 101.946551752), (29.512472849, 101.592998362))
            Line((29.512472849, 101.592998362), (29.512472849, 97.592998362))
            ThreePointArc((29.512472849, 97.592998362), (29.36602624, 97.239444971), (29.012472849, 97.092998362))
            Line((29.012472849, 97.092998362), (25.012472849, 97.092998362))
            ThreePointArc((25.012472849, 97.092998362), (24.658919458, 97.239444971), (24.512472849, 97.592998362))
            Line((24.512472849, 97.592998362), (24.512472849, 101.592998362))
            ThreePointArc((24.512472849, 101.592998362), (24.658919458, 101.946551752), (25.012472849, 102.092998362))
        make_face()
        with BuildLine():
            Line((24.948975022, 111.702722859), (28.948975022, 111.702722859))
            ThreePointArc((28.948975022, 111.702722859), (29.302528413, 111.55627625), (29.448975022, 111.202722859))
            Line((29.448975022, 111.202722859), (29.448975022, 107.202722859))
            ThreePointArc((29.448975022, 107.202722859), (29.302528413, 106.849169469), (28.948975022, 106.702722859))
            Line((28.948975022, 106.702722859), (24.948975022, 106.702722859))
            ThreePointArc((24.948975022, 106.702722859), (24.595421632, 106.849169469), (24.448975022, 107.202722859))
            Line((24.448975022, 107.202722859), (24.448975022, 111.202722859))
            ThreePointArc((24.448975022, 111.202722859), (24.595421632, 111.55627625), (24.948975022, 111.702722859))
        make_face()
    extrude(amount=-CUT_EXTRUDE_6_DEPTH, mode=Mode.SUBTRACT)


solid = part.part
